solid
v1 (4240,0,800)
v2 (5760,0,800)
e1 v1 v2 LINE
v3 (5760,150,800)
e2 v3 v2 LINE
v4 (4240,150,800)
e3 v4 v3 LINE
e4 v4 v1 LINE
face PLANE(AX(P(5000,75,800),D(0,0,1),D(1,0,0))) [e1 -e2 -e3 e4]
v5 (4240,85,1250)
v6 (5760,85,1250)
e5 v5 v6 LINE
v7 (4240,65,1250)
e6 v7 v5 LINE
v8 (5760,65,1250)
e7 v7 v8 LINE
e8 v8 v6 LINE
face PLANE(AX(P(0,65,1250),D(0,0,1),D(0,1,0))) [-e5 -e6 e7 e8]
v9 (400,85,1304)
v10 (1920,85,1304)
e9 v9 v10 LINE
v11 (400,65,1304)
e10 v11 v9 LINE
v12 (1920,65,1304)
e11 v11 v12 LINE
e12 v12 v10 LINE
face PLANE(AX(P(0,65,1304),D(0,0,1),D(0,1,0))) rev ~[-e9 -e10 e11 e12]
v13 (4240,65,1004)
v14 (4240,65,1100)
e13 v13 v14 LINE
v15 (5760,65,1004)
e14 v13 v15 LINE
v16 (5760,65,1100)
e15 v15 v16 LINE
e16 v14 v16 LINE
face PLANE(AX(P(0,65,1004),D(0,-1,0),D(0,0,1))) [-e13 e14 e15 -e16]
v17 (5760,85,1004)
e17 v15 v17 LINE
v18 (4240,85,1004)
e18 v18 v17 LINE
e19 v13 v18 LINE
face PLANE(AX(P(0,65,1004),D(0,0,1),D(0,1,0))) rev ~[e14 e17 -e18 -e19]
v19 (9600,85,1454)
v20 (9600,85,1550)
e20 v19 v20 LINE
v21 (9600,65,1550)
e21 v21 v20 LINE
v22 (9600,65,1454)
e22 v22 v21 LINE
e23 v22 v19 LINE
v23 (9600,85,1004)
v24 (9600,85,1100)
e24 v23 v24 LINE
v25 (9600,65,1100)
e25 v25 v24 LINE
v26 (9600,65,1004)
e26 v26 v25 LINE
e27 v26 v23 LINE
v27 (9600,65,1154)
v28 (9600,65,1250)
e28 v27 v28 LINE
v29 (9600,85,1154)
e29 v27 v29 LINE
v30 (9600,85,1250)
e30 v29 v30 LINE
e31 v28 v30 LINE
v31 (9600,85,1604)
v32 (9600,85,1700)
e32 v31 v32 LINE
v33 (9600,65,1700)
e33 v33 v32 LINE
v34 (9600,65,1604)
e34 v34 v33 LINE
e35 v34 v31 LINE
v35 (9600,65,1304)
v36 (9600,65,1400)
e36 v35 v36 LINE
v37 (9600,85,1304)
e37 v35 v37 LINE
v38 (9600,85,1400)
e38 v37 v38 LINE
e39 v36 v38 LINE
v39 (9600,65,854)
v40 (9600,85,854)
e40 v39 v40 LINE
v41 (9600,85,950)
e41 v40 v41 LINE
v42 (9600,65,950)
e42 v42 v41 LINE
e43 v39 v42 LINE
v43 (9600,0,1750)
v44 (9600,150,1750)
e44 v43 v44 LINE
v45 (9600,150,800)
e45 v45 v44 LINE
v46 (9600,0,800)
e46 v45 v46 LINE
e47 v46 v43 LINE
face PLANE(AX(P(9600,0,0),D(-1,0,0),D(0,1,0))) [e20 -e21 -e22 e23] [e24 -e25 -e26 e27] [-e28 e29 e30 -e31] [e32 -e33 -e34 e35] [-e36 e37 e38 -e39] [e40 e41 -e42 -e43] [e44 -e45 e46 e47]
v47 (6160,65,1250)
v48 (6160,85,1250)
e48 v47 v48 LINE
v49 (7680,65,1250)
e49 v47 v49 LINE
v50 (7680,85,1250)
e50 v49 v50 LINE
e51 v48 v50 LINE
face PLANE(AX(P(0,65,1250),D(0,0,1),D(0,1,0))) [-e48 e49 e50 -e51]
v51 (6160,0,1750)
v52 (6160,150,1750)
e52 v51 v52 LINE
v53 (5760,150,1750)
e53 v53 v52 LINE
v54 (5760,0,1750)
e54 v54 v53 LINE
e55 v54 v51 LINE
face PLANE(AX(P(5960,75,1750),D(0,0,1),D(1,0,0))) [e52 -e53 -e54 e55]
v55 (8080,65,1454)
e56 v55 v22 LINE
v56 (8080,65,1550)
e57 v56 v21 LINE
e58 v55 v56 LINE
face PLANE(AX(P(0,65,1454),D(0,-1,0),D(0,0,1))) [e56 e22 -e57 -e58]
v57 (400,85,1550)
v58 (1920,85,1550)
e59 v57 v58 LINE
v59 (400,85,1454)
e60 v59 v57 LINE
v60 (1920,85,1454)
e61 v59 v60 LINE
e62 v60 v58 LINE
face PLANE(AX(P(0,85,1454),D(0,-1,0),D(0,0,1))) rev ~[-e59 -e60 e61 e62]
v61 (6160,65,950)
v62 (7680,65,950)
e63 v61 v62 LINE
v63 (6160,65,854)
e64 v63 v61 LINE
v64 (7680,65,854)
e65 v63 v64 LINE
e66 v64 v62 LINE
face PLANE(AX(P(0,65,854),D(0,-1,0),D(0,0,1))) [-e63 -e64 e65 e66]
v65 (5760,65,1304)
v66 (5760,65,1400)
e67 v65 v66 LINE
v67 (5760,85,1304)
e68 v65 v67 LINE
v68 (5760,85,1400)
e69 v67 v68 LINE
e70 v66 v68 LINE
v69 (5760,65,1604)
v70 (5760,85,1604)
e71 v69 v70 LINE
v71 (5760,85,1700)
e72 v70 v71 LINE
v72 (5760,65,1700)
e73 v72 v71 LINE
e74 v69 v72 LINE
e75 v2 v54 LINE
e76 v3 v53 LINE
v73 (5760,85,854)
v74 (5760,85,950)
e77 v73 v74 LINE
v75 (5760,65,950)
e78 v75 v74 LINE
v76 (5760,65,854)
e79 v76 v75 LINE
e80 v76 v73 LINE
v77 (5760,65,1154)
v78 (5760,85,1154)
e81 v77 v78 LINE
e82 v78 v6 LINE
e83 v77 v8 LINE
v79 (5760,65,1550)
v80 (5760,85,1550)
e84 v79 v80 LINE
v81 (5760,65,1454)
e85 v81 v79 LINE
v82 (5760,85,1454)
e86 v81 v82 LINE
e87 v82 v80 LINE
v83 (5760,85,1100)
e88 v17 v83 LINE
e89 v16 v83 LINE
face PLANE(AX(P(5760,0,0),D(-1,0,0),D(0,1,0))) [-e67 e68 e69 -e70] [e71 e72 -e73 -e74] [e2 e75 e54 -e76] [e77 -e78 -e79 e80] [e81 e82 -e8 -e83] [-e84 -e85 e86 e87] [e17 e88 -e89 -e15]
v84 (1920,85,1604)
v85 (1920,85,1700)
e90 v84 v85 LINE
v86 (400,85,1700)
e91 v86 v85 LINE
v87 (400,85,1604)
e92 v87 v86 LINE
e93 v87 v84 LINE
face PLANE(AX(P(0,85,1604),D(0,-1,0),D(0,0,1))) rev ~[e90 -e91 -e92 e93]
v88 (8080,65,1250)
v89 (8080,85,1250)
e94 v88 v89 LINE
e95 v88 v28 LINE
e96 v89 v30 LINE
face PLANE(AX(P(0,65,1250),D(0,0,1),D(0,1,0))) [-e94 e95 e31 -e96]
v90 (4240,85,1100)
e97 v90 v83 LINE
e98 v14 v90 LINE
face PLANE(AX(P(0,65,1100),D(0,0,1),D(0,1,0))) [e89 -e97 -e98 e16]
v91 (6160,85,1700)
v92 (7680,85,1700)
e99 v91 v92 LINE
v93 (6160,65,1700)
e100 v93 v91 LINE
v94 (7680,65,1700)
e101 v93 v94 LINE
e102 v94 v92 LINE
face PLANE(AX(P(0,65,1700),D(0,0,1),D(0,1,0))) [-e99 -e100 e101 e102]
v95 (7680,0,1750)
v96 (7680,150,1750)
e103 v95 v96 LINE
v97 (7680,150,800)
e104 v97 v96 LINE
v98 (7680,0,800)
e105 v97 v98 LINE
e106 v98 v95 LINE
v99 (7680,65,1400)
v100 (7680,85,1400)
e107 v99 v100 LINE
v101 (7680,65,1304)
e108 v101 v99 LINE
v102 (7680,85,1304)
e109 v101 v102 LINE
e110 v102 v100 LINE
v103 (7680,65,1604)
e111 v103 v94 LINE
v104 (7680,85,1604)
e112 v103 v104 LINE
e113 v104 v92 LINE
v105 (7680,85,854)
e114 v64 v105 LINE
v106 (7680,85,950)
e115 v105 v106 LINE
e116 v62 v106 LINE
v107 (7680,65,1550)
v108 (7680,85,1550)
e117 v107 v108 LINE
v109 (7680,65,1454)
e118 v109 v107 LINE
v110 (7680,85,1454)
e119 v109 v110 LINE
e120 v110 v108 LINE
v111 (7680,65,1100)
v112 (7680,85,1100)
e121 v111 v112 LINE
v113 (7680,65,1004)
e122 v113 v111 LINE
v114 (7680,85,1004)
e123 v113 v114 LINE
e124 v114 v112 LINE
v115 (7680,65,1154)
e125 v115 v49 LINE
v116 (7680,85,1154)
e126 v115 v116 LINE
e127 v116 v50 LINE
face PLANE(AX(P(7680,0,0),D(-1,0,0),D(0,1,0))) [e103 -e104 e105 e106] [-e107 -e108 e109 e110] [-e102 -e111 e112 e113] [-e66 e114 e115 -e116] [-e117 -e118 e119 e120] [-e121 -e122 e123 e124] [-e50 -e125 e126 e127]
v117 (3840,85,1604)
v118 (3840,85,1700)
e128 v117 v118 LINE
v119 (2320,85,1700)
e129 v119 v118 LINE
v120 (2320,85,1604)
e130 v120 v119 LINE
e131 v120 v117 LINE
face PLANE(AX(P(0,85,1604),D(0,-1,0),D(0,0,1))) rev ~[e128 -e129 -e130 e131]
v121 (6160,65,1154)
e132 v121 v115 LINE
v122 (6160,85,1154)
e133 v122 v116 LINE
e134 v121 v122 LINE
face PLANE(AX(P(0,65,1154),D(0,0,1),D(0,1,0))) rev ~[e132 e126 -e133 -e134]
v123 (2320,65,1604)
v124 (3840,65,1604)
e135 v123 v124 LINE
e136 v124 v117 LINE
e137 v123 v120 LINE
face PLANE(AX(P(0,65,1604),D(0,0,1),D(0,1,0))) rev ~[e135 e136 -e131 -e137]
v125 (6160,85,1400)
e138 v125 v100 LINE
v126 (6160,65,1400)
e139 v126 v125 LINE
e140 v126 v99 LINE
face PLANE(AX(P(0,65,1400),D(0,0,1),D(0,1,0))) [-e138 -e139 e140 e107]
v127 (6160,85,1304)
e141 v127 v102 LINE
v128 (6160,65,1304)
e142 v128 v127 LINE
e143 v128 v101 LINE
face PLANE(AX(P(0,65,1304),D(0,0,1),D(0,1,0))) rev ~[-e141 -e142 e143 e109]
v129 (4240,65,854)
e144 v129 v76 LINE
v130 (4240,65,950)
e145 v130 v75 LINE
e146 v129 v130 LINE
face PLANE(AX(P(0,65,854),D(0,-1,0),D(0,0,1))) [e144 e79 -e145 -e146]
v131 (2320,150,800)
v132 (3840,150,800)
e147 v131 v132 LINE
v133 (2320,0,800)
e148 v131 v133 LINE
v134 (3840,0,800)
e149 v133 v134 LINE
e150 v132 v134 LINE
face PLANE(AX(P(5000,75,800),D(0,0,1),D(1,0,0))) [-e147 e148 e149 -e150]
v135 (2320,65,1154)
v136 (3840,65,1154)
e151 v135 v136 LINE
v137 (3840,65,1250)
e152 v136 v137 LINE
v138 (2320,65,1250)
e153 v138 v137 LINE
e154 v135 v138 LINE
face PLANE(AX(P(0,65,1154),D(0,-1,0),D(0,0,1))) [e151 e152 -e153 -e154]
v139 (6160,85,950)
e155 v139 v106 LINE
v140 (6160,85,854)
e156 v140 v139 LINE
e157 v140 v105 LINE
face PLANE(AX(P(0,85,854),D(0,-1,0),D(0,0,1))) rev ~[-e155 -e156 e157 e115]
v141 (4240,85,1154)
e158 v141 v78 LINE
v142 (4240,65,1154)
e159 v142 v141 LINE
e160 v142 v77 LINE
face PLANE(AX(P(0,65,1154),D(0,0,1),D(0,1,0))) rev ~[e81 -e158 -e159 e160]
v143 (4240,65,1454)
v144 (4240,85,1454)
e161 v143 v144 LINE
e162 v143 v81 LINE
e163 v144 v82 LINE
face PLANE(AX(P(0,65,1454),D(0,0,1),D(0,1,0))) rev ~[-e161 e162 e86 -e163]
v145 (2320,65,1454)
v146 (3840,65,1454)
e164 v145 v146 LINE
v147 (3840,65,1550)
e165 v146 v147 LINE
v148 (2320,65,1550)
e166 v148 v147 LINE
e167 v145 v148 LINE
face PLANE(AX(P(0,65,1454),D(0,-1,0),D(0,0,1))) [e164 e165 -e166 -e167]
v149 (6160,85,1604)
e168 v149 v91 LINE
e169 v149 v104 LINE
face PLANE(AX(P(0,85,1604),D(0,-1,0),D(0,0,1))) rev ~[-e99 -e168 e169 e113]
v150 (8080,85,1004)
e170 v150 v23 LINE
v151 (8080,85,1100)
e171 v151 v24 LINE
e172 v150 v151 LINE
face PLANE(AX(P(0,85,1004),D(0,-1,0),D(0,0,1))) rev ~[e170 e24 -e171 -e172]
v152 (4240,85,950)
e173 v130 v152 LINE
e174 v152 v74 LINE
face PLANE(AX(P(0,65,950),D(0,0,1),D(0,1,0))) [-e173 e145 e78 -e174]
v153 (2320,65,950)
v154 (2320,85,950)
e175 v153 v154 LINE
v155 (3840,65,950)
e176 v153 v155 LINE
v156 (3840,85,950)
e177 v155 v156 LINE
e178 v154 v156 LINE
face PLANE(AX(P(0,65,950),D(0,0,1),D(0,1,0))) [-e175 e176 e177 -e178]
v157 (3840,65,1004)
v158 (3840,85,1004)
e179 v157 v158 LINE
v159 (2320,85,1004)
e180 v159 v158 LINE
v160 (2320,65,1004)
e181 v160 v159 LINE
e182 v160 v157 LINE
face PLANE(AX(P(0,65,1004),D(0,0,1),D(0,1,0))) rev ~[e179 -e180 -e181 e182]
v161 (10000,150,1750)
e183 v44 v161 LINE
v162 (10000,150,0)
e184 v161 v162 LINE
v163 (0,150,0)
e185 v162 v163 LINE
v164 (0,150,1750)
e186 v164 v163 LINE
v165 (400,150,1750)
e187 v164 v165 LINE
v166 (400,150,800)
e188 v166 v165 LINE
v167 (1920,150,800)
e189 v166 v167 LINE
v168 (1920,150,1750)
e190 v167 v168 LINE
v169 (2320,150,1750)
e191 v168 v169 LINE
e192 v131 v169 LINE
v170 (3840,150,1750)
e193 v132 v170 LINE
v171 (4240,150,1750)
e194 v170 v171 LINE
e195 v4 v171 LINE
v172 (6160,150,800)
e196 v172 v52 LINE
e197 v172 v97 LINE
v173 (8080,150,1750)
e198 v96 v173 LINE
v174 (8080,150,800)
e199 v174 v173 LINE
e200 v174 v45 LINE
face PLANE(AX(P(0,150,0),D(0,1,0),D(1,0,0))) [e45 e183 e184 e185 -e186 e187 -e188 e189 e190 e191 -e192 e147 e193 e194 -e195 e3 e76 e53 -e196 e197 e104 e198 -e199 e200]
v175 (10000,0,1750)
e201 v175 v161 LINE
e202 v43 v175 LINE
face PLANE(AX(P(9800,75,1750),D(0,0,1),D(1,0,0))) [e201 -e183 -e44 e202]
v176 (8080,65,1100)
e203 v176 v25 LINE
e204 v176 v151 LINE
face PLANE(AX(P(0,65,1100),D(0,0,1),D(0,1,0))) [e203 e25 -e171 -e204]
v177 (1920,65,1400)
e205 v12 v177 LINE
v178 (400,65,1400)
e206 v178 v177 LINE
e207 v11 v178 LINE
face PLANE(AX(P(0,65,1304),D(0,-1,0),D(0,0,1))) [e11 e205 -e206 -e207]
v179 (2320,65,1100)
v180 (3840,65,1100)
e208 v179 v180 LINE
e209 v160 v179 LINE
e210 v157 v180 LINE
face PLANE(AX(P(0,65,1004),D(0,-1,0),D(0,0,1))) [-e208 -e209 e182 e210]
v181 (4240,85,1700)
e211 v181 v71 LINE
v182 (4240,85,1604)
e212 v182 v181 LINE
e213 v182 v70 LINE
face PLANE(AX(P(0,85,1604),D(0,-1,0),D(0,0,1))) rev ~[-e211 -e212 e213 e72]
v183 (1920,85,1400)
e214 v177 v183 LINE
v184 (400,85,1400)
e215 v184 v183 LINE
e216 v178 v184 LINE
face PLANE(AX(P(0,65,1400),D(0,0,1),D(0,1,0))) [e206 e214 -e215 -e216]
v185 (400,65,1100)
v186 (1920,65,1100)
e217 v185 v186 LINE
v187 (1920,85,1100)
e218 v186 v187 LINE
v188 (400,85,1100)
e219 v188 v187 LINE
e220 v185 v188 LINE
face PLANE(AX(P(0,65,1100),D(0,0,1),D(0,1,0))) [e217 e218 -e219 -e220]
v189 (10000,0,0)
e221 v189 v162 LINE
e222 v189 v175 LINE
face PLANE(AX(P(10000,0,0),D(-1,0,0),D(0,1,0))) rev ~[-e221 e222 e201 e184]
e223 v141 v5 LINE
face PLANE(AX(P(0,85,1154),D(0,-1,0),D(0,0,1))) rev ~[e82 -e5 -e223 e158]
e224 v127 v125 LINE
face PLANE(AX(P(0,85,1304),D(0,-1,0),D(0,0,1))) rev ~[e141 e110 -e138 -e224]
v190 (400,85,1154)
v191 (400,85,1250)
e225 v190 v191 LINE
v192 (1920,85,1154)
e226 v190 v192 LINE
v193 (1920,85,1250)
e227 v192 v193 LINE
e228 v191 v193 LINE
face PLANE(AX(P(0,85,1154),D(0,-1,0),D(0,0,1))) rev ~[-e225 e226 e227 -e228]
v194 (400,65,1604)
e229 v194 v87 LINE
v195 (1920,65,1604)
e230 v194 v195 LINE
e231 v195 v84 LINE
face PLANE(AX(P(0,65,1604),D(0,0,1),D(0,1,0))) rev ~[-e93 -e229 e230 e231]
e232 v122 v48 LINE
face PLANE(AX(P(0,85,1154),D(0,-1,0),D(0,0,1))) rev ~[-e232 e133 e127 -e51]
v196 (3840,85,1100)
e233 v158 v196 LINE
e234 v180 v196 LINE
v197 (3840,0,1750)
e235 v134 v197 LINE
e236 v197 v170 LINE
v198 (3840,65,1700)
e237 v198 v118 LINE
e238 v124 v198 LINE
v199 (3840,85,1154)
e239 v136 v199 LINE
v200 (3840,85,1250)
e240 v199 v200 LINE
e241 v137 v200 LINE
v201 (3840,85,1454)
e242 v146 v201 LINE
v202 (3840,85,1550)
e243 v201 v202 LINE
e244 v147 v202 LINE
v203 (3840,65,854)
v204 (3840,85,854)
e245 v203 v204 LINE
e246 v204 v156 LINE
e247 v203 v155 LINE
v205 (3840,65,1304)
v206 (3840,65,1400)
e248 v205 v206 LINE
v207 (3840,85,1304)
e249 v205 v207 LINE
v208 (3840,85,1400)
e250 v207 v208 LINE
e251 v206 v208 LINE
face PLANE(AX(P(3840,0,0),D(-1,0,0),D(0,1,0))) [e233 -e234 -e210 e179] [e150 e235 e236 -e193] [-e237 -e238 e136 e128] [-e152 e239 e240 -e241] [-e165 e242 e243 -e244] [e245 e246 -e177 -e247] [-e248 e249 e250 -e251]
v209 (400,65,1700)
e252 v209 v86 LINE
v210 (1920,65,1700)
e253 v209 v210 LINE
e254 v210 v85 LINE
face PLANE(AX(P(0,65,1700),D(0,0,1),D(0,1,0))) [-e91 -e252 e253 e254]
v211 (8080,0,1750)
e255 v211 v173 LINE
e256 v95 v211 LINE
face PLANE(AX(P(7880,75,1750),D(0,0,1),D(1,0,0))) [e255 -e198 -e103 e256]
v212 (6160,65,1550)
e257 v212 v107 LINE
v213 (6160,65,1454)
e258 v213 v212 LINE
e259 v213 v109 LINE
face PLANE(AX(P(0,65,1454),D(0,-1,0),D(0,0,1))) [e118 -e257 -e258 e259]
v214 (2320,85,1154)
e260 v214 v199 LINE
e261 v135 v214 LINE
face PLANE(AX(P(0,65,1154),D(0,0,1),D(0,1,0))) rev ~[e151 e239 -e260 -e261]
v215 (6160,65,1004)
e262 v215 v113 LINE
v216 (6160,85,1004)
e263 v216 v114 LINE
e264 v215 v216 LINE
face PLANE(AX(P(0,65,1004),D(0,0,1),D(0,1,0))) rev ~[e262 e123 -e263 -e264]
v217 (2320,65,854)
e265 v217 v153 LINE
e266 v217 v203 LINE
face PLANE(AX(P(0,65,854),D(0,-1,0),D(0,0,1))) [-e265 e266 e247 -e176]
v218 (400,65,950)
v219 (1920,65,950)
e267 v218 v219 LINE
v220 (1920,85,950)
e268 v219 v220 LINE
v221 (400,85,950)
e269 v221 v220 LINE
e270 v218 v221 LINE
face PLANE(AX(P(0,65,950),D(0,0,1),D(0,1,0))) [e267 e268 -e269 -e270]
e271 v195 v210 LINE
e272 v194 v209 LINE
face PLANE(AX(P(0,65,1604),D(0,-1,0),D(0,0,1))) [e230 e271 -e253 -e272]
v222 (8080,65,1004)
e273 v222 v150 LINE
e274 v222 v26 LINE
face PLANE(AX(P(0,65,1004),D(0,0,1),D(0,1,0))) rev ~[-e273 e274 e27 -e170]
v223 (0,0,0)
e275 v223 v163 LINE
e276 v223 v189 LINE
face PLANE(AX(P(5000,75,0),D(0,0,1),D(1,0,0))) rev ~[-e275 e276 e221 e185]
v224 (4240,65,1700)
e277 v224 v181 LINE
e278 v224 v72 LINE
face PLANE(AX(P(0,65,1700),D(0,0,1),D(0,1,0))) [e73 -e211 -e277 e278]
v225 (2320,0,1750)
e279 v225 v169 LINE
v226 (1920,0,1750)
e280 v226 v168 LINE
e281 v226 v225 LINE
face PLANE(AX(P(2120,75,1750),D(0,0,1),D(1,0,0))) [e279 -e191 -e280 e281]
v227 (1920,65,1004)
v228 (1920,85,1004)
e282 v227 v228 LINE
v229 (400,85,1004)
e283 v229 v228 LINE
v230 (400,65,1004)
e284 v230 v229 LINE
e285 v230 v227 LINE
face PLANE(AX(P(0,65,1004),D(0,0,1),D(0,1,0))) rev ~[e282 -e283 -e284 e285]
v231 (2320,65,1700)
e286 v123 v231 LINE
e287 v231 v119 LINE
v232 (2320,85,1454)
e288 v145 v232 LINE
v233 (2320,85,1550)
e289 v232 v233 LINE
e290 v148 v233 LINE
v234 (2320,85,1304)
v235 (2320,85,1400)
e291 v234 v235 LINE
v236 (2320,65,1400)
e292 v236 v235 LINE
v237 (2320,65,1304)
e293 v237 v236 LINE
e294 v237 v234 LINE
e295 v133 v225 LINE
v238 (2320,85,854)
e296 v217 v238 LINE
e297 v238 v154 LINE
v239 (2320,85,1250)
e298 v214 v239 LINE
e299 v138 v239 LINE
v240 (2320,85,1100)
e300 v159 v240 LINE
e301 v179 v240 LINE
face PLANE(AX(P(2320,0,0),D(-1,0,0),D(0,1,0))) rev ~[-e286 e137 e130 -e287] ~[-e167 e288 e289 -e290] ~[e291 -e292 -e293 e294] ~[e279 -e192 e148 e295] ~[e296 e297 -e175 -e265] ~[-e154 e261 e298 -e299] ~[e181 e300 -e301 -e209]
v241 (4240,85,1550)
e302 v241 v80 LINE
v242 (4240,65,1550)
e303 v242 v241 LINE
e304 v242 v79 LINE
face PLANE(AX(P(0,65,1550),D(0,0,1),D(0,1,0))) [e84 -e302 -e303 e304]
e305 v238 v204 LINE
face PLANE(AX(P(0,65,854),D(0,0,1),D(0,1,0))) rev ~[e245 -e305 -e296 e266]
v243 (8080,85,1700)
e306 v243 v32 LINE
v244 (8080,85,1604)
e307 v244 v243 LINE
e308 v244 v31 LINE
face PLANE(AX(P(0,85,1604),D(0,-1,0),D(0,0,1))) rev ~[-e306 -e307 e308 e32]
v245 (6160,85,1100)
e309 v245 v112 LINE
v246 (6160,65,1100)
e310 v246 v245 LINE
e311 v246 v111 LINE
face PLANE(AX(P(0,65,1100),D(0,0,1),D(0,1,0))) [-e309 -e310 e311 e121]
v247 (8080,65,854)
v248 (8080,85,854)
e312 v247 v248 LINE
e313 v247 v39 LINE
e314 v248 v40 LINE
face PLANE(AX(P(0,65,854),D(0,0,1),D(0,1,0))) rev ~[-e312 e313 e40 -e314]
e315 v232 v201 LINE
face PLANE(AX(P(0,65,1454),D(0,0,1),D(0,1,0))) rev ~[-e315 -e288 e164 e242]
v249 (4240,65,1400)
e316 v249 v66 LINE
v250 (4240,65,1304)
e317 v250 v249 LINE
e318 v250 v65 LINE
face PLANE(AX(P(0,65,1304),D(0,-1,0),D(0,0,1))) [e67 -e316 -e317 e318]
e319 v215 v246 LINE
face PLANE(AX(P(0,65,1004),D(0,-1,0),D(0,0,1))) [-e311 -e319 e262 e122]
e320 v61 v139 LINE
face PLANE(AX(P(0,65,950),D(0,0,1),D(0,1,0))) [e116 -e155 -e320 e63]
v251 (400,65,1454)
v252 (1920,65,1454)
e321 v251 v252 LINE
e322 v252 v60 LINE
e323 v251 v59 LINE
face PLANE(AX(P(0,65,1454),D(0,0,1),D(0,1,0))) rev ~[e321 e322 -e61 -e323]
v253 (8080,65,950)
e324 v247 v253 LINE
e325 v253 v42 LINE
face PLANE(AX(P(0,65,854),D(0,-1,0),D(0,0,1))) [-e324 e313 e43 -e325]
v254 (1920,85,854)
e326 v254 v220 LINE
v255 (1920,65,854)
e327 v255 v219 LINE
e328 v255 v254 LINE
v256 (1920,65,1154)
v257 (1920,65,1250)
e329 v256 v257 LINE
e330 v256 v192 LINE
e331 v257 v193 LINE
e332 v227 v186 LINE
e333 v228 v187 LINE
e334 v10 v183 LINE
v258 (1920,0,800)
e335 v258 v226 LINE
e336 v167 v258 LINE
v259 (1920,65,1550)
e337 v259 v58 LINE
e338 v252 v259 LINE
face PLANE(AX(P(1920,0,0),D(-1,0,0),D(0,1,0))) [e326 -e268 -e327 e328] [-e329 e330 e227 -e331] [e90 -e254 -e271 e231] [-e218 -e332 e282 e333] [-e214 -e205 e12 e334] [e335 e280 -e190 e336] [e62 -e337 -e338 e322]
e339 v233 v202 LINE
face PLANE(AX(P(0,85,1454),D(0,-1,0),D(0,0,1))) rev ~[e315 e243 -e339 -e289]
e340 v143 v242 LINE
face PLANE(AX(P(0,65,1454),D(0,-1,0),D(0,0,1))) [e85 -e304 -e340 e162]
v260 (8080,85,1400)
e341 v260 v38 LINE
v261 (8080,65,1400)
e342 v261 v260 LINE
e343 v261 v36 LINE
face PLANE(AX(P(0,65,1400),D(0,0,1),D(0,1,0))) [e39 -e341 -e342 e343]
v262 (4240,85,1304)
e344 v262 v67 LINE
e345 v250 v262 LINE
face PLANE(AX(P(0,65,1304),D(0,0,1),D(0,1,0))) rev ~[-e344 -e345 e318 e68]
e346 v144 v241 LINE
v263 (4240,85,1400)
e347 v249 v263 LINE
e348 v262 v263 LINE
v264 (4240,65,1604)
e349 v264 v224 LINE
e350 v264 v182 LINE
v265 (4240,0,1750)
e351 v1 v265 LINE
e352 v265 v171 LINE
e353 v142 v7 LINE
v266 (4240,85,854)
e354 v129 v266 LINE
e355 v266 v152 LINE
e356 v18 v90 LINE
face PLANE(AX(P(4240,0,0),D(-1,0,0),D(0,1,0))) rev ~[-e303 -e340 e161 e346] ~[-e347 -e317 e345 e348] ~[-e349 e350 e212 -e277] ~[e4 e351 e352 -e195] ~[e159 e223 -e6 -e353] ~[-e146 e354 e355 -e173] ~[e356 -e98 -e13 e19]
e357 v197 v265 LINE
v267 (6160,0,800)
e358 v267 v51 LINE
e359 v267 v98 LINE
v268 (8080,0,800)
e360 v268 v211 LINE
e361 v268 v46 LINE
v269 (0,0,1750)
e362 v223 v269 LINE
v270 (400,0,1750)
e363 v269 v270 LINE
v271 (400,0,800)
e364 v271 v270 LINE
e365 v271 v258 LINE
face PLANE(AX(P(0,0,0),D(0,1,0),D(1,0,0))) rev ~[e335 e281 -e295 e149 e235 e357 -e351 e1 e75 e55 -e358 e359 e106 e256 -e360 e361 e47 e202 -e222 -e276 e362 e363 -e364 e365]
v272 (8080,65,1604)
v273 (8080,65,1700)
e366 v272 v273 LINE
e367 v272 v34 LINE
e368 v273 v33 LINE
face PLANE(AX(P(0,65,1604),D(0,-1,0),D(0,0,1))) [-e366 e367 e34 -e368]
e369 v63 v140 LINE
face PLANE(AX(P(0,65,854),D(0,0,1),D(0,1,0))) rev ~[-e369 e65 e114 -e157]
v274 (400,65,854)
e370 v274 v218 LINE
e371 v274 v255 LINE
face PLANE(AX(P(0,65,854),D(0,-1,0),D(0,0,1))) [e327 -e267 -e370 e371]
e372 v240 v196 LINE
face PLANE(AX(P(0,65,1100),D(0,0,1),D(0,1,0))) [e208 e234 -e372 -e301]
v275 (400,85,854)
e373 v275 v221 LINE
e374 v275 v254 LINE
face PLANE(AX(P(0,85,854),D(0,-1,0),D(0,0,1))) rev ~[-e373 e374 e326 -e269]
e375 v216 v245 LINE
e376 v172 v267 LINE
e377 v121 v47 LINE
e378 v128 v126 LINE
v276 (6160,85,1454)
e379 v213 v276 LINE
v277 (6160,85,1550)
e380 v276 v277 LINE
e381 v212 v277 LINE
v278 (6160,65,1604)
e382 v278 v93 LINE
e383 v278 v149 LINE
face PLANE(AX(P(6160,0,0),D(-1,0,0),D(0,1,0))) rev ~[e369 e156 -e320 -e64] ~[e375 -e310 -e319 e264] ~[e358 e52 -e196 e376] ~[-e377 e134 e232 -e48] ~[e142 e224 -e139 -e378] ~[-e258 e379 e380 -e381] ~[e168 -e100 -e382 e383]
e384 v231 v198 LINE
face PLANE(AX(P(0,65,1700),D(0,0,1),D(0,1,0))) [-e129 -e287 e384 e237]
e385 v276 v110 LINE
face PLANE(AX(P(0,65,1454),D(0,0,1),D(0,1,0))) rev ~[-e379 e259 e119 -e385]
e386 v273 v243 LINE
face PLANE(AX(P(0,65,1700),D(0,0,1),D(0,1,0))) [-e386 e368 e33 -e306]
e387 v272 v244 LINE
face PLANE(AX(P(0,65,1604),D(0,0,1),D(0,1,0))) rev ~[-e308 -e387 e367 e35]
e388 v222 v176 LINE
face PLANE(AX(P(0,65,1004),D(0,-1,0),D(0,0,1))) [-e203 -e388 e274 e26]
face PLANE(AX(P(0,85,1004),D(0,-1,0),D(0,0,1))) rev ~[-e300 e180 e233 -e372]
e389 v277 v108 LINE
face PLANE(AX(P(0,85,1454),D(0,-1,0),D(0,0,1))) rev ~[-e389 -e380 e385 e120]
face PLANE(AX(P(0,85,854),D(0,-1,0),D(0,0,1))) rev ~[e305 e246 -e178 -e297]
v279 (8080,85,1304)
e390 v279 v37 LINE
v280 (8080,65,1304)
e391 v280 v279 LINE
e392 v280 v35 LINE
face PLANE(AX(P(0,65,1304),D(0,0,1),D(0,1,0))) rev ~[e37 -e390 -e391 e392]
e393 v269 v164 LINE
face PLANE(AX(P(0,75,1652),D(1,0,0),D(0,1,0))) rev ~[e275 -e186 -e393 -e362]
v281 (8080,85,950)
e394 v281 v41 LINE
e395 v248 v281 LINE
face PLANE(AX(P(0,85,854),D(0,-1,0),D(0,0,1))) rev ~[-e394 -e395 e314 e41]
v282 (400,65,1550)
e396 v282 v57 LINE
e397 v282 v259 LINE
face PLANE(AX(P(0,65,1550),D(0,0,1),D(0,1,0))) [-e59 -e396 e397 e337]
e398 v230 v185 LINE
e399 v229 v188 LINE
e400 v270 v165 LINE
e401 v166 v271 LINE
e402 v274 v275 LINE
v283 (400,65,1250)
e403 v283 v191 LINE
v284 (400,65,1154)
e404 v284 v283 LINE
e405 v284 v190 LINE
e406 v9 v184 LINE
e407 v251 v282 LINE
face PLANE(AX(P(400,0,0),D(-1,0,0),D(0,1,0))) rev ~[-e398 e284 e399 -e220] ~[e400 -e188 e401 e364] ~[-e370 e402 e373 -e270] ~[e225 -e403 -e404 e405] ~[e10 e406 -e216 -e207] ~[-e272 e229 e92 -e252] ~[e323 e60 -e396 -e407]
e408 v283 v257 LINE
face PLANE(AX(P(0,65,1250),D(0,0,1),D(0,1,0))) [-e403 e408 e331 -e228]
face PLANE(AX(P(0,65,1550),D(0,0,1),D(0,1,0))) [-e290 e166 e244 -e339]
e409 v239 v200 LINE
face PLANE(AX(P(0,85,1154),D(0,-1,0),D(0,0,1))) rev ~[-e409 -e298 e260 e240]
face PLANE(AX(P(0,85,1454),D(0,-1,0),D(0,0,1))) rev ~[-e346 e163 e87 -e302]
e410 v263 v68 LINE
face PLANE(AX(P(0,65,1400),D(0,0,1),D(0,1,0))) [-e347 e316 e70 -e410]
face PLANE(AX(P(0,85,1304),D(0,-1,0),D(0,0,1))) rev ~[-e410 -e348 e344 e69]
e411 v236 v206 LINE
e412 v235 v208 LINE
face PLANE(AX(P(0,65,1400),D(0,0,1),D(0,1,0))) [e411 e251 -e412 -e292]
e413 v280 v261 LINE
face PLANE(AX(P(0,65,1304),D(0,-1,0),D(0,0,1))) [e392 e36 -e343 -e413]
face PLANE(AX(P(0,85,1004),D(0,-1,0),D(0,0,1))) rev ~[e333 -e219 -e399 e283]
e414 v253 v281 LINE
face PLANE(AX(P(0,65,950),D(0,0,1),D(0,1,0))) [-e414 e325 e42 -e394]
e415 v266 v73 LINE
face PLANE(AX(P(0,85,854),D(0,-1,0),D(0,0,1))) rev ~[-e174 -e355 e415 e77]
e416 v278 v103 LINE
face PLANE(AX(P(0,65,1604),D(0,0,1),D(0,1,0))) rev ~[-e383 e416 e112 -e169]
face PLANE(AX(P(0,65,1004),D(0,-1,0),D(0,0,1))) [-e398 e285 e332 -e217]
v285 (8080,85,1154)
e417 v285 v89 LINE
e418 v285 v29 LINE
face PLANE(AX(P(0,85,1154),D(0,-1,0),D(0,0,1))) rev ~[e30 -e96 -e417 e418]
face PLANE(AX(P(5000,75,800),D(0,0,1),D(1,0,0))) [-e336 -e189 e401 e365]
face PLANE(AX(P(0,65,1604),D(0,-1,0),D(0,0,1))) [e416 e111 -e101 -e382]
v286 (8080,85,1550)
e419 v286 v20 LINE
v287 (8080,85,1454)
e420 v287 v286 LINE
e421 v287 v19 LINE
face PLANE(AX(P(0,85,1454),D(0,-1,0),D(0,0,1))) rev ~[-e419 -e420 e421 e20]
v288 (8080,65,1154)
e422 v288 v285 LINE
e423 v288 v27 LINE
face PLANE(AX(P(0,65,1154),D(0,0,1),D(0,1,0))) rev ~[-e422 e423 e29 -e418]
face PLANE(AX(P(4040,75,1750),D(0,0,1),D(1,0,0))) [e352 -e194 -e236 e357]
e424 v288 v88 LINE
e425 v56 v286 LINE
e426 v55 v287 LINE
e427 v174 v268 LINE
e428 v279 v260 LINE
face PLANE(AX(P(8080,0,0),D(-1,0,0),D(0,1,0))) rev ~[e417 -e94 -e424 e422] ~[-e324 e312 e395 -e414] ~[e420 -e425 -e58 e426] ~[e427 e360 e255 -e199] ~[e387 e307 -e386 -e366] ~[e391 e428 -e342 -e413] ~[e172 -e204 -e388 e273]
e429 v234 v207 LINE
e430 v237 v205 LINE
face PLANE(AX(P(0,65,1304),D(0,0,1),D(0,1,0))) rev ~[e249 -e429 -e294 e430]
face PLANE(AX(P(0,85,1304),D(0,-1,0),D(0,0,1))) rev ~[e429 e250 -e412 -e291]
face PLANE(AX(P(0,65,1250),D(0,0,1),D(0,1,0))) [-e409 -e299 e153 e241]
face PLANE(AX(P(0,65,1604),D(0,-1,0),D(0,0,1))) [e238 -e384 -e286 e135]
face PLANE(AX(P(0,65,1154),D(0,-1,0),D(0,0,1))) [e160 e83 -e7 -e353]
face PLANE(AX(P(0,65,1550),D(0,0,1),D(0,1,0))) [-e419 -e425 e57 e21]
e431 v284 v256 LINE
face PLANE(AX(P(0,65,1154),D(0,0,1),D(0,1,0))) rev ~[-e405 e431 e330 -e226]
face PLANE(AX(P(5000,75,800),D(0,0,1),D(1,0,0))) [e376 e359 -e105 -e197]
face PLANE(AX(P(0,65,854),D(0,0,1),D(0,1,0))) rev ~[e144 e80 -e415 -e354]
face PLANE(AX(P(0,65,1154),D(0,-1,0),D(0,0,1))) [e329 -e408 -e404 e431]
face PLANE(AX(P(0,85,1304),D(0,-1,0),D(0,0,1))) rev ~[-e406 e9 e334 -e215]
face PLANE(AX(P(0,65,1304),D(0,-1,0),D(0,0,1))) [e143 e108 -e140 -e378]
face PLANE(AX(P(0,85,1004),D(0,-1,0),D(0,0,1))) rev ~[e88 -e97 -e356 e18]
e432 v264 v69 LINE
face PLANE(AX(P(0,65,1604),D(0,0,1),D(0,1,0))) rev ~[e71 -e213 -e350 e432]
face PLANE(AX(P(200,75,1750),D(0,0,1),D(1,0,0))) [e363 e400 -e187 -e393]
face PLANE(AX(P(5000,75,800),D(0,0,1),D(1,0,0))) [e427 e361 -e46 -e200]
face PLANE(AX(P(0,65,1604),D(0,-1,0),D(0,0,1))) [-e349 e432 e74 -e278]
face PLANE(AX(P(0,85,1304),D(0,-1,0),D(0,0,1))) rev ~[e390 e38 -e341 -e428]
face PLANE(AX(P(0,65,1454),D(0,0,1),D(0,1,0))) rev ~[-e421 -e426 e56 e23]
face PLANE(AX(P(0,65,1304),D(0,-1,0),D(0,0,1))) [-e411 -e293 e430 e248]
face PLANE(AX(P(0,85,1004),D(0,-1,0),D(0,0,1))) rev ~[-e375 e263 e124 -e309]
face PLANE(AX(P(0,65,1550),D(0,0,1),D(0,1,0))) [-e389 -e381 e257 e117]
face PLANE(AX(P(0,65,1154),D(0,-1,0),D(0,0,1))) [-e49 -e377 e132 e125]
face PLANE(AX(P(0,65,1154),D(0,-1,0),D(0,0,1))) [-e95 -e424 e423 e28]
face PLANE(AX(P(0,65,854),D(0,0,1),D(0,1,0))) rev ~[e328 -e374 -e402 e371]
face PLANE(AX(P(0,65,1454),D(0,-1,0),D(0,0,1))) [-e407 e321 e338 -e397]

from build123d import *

# Parameters (mm, degrees)
F2_W     = 10000
F2_H     = 150
F3_DEPTH = 800
F4_W     = 400
F4_H     = 150
F5_DEPTH = 1750
F6_W     = 20
F6_H     = 96
F7_DEPTH = 10000


with BuildPart() as f3:
    # F2 (on Top) → F3 (new body, through all)
    with BuildSketch(Plane.XY):
        with Locations((5000, 75)):
            Rectangle(F2_W, F2_H)
    extrude(amount=F3_DEPTH)

    # F4 (on Top) → F5 (join, through all)
    with BuildSketch(Plane.XY):
        with Locations((200, 75)):
            Rectangle(F4_W, F4_H)
        with Locations((2120, 75)):
            Rectangle(F4_W, F4_H)
        with Locations((4040, 75)):
            Rectangle(F4_W, F4_H)
        with Locations((5960, 75)):
            Rectangle(F4_W, F4_H)
        with Locations((7880, 75)):
            Rectangle(F4_W, F4_H)
        with Locations((9800, 75)):
            Rectangle(F4_W, F4_H)
    extrude(amount=F5_DEPTH)

    # F6 (on Right) → F7 (join, through all)
    with BuildSketch(Plane.YZ):
        with Locations((75, 1652)):
            Rectangle(F6_W, F6_H)
        with Locations((75, 1502)):
            Rectangle(F6_W, F6_H)
        with Locations((75, 1352)):
            Rectangle(F6_W, F6_H)
        with Locations((75, 1202)):
            Rectangle(F6_W, F6_H)
        with Locations((75, 1052)):
            Rectangle(F6_W, F6_H)
        with Locations((75, 902)):
            Rectangle(F6_W, F6_H)
    extrude(amount=F7_DEPTH)


solid = f3.part
